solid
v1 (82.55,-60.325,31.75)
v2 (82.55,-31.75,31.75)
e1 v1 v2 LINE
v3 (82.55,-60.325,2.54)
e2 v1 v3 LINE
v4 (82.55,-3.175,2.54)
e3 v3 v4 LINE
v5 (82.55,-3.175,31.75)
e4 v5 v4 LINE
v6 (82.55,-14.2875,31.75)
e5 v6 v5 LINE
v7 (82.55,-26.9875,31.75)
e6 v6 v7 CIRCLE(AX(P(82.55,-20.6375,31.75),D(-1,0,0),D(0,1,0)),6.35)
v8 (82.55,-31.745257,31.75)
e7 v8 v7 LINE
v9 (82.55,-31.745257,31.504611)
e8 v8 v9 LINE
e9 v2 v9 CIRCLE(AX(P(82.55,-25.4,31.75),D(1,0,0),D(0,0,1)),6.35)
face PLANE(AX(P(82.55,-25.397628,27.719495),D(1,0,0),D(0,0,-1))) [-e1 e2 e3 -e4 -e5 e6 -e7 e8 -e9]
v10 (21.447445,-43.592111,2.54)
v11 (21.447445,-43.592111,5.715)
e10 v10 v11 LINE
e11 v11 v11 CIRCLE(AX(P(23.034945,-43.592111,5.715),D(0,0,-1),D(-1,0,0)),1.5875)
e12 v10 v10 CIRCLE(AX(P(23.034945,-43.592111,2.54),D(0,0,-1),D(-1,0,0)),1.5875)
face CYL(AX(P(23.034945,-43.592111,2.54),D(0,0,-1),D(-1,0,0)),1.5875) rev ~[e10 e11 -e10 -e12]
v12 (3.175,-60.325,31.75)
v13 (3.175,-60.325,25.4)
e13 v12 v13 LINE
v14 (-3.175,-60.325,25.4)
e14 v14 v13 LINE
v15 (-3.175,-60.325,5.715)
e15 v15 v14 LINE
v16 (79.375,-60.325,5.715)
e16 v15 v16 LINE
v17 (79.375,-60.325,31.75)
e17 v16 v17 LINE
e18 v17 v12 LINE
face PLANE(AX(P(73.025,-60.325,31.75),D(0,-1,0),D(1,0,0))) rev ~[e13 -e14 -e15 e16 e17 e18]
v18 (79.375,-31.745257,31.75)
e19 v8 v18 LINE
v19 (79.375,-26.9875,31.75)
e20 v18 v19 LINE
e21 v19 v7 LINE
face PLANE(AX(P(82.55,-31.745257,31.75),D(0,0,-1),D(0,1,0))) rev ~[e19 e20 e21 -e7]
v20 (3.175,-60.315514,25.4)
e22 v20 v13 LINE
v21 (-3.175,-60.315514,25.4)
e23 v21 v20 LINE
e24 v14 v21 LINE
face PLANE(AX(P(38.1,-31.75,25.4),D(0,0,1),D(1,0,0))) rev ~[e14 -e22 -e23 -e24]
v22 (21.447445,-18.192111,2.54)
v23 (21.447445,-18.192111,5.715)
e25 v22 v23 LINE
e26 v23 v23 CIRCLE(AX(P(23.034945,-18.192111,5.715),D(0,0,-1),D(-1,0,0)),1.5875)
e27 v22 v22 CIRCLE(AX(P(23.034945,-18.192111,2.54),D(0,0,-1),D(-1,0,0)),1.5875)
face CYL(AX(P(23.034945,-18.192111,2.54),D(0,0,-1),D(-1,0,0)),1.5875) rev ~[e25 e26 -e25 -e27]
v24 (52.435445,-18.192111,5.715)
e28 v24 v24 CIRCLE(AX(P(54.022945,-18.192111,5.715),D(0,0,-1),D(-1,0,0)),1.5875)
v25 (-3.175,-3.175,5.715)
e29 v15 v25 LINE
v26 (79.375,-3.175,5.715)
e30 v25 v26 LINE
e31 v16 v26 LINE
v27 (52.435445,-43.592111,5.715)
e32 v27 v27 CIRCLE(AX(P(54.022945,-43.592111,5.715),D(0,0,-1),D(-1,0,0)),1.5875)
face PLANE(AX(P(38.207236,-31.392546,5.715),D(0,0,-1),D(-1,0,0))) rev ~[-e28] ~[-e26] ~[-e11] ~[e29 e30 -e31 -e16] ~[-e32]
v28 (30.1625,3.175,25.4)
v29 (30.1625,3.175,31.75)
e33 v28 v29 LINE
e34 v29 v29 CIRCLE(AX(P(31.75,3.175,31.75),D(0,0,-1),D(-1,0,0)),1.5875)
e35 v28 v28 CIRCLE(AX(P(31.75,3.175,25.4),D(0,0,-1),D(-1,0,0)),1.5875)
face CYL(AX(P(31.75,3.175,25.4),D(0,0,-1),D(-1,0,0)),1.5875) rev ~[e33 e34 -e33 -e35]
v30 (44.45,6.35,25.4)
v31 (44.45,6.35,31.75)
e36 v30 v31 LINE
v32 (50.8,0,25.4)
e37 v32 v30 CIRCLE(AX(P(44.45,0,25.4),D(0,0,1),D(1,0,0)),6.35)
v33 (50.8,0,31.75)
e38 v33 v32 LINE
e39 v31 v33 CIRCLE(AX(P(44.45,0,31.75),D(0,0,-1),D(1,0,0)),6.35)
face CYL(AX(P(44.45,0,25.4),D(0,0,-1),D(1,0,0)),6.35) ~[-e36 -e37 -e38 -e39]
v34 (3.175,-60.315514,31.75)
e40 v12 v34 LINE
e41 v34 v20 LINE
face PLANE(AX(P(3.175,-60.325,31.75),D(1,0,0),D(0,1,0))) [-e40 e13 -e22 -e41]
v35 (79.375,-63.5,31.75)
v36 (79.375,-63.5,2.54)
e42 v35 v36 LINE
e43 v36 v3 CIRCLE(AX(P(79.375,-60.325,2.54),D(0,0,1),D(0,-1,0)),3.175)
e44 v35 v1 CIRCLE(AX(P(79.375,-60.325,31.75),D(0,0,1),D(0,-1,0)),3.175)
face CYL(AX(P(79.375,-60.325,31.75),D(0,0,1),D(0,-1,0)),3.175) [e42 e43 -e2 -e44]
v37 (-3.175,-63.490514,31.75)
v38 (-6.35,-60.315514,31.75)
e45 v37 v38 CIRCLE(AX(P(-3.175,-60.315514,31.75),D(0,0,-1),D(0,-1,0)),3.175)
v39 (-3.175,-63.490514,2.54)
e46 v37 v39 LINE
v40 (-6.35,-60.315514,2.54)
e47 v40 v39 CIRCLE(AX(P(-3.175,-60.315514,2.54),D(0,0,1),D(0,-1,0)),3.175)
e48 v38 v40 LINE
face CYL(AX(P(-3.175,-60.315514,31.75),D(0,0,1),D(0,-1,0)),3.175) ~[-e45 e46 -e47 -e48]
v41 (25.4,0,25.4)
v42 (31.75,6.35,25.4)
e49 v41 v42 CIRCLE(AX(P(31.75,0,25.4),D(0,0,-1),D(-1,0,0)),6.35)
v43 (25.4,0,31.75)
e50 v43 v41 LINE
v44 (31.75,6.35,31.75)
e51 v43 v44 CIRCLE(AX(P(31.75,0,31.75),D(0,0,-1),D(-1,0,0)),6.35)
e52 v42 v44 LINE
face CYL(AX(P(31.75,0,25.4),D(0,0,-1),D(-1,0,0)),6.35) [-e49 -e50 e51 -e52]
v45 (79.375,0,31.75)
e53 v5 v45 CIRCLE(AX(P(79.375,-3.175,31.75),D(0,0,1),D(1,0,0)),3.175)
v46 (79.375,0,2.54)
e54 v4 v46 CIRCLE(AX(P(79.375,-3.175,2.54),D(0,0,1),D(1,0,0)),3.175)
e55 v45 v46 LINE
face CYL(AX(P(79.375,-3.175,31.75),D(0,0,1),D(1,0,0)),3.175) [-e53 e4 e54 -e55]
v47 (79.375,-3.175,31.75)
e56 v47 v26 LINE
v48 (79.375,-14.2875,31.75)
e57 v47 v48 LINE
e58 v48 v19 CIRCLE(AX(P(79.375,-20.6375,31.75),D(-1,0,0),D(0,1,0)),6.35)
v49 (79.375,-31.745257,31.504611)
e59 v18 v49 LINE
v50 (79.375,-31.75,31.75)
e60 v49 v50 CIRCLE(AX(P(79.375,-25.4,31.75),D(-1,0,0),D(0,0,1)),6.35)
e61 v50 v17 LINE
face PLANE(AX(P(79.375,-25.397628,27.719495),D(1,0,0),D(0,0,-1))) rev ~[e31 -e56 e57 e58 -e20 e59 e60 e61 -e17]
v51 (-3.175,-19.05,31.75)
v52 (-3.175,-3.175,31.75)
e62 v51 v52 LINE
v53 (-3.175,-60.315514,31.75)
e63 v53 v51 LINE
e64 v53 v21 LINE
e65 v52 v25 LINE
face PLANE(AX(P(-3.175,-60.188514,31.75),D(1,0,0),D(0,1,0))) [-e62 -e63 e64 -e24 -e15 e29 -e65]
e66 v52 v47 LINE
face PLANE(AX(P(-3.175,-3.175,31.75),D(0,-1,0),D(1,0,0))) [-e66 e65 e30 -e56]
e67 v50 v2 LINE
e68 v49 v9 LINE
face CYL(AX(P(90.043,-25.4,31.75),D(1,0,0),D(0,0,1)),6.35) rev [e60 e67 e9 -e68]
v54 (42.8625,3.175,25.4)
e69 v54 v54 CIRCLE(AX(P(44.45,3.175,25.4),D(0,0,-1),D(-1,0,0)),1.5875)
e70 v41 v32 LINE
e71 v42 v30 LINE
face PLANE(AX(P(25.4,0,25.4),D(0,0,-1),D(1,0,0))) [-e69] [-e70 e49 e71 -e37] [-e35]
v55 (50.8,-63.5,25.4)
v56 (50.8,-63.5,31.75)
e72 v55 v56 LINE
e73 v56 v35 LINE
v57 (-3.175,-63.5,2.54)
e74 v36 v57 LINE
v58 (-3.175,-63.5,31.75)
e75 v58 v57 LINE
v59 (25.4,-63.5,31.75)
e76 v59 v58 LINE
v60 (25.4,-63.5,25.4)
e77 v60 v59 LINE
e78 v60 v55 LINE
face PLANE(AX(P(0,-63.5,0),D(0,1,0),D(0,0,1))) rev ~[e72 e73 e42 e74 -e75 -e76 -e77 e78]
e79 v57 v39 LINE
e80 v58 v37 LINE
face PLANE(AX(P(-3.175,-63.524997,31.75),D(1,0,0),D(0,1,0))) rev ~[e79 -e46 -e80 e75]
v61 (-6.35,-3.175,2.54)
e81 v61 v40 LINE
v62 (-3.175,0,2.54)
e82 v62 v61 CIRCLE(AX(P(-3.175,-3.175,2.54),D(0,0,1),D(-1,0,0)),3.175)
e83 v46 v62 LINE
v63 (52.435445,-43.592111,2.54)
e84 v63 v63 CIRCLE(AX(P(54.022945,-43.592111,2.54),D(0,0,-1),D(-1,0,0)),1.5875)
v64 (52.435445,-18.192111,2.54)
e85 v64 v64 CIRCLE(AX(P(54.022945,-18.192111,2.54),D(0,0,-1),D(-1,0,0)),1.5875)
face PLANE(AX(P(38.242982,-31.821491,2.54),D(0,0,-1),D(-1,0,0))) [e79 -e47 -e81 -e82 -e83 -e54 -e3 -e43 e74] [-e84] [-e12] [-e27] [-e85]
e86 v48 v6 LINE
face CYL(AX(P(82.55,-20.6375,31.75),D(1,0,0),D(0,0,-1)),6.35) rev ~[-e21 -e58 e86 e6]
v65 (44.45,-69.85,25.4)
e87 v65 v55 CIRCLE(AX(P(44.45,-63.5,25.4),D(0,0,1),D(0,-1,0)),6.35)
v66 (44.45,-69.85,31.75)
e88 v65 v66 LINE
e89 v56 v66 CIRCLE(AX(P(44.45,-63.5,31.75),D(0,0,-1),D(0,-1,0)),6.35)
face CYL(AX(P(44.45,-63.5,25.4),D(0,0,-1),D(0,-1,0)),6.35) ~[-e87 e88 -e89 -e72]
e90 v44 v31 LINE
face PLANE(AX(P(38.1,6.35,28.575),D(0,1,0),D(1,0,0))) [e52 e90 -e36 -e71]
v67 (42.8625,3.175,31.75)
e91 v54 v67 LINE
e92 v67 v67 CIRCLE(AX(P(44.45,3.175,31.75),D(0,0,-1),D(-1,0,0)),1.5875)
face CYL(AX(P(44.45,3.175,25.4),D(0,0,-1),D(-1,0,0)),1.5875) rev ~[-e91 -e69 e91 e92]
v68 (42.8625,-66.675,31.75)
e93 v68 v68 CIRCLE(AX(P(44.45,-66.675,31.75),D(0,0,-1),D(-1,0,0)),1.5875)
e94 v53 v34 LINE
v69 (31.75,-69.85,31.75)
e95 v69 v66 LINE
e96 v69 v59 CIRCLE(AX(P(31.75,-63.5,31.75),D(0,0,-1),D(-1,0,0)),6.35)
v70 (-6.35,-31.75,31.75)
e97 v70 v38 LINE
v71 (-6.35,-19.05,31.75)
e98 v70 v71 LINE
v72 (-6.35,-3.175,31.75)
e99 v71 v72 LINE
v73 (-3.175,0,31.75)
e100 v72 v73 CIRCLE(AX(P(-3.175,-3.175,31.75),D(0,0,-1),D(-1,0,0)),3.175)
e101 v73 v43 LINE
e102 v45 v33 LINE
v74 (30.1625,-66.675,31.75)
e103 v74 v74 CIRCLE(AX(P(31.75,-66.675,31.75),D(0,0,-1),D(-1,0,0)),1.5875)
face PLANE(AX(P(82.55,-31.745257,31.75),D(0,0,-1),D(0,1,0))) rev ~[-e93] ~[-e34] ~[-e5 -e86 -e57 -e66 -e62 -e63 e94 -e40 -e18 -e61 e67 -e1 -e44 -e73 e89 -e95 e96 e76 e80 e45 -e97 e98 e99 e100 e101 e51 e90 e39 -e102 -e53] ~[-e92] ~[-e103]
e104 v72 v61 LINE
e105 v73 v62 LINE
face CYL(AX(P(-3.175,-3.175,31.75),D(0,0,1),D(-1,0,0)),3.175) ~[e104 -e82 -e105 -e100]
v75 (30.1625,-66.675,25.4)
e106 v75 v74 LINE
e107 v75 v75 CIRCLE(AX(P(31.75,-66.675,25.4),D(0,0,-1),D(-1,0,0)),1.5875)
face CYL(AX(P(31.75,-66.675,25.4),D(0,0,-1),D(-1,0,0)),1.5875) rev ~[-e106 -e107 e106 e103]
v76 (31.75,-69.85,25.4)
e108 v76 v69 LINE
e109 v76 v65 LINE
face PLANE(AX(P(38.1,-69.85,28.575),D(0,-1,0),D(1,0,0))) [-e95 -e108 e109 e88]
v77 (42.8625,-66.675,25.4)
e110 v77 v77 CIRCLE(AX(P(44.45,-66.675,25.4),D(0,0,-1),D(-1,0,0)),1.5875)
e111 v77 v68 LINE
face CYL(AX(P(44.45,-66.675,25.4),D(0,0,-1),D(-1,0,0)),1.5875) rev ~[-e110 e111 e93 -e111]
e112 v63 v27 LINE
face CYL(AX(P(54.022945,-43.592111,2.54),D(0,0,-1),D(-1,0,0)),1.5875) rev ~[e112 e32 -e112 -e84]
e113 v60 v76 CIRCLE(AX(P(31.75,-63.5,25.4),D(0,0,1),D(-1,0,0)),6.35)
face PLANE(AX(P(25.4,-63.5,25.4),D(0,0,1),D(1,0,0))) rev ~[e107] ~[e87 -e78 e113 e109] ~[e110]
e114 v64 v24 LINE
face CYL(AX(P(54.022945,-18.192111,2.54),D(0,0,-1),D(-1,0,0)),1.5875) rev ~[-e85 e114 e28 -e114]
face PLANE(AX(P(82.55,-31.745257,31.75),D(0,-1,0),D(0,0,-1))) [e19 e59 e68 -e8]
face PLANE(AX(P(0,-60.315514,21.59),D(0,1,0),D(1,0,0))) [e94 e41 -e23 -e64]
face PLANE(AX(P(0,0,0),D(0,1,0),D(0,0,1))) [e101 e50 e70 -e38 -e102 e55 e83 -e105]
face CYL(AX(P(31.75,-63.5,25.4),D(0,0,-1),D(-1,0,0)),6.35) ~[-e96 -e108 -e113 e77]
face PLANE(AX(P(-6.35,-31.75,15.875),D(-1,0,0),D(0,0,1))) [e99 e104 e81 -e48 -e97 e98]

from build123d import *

# Parameters (mm, degrees)
SKETCH1_W            = 76.2
SKETCH1_H            = 63.5
BOSS_EXTRUDE1_DEPTH  = 31.75
SKETCH2_W            = 69.85
SKETCH2_H            = 57.15
CUT_EXTRUDE1_DEPTH   = 28.575
SKETCH3_W            = 19.05
SKETCH3_H            = 25.4
CUT_EXTRUDE2_DEPTH   = 28.575
SKETCH4_R            = 1.5875
SKETCH4_W            = 19.05
SKETCH4_H            = 6.35
CUT_EXTRUDE3_DEPTH   = 28.575
SKETCH5_W            = 19.05
SKETCH5_H            = 6.35
CUT_EXTRUDE4_DEPTH   = 28.575
SKETCH7_W            = 25.4
SKETCH7_H            = 6.35
BOSS_EXTRUDE2_DEPTH  = 6.35
SKETCH9_R            = 1.5875
CUT_EXTRUDE5_DEPTH   = 6.35
SKETCH10_W           = 25.4
SKETCH10_H           = 6.35
BOSS_EXTRUDE3_DEPTH  = 6.35
SKETCH11_R           = 1.5875
CUT_EXTRUDE6_DEPTH   = 6.35
SKETCH12_R           = 6.35
CUT_EXTRUDE8_DEPTH   = 6.35
SKETCH13_W           = 7.178118798
SKETCH13_H           = 13.595140403
BOSS_EXTRUDE4_DEPTH  = 3.175
SKETCH14_R           = 6.35
CUT_EXTRUDE9_DEPTH   = 3.175
SKETCH15_R           = 1.5875
BOSS_EXTRUDE8_DEPTH  = 3.175
SKETCH16_R           = 1.5875
CUT_EXTRUDE11_DEPTH  = 8.509
CUT_EXTRUDE12_DEPTH  = 8.509
SKETCH26_R           = 2.921
CUT_EXTRUDE24_DEPTH  = 72.898
SKETCH32_W           = 69.85
SKETCH32_H           = 57.15
SKETCH32_R           = 2.921
BOSS_EXTRUDE10_DEPTH = 5.715
SKETCH36_W           = 34.13125
SKETCH36_H           = 28.575
CUT_EXTRUDE27_DEPTH  = 38.227
CUT_EXTRUDE29_DEPTH  = 38.227
SKETCH39_W           = 17.907
SKETCH39_H           = 57.15
SKETCH39_R           = 1.905
SKETCH39_W_2         = 17.81175
BOSS_EXTRUDE11_DEPTH = 2.54
CUT_EXTRUDE34_DEPTH  = 11.176
SKETCH47_W           = 34.544
SKETCH47_H           = 45.212
CUT_EXTRUDE36_DEPTH  = 11.43
SKETCH51_W           = 31.75
SKETCH51_H           = 63.5
BOSS_EXTRUDE16_DEPTH = 6.35
SKETCH52_W           = 31.75
SKETCH52_H           = 63.5
BOSS_EXTRUDE17_DEPTH = 6.35
CUT_EXTRUDE37_START  = -6.35
SKETCH53_R           = 6.35
CUT_EXTRUDE37_DEPTH  = 6.35
SKETCH54_W           = 6.35
SKETCH54_H           = 57.013513642
SKETCH54_H_2         = 57.15
CUT_EXTRUDE38_DEPTH  = 21.59
SKETCH57_W           = 6.35
SKETCH57_H           = 57.15
BOSS_EXTRUDE20_DEPTH = 1.27
SKETCH59_W           = 16.847295719
SKETCH59_H           = 36.06156687
SKETCH59_W_2         = 16.70806187
SKETCH59_H_2         = 36.618502265
BOSS_EXTRUDE21_DEPTH = 11.43
SKETCH61_R           = 2.921
CUT_EXTRUDE39_DEPTH  = 8.89
SKETCH62_R           = 1.905
CUT_EXTRUDE40_DEPTH  = 2.54
SKETCH64_W           = 6.35
SKETCH64_H           = 20.32
CUT_EXTRUDE42_DEPTH  = 0.127
SKETCH63_W           = 1.27
SKETCH63_H           = 57.013513642
SKETCH63_W_2         = 3.81
BOSS_EXTRUDE22_DEPTH = 83.439
SKETCH65_R           = 1.5875
CUT_EXTRUDE43_DEPTH  = 83.439
SKETCH66_W           = 25.4
SKETCH66_H           = 38.1
CUT_EXTRUDE44_DEPTH  = 83.439
BOSS_EXTRUDE23_DEPTH = 11.43
CUT_EXTRUDE45_DEPTH  = 11.43
CUT_EXTRUDE47_DEPTH  = 63.5
SKETCH72_R           = 6.35
CUT_EXTRUDE48_DEPTH  = 63.5
SKETCH73_W           = 7.89440902
SKETCH73_H           = 12.7
BOSS_EXTRUDE24_DEPTH = 3.175
CUT_EXTRUDE49_DEPTH  = 9.779
CUT_EXTRUDE50_DEPTH  = 9.779
CUT_EXTRUDE51_DEPTH  = 9.779
SKETCH81_W           = 3.243342167
SKETCH81_H           = 0.034482981
CUT_EXTRUDE52_DEPTH  = 36.703
SKETCH85_R           = 2.921
CUT_EXTRUDE53_DEPTH  = 11.43
SKETCH86_W           = 82.55
SKETCH86_H           = 57.15
SKETCH86_R           = 1.905
BOSS_EXTRUDE28_DEPTH = 2.54
CUT_EXTRUDE54_START  = -38.862
SKETCH87_R           = 1.5875
SKETCH87_W           = 25.330152682
SKETCH87_H           = 38.1
CUT_EXTRUDE54_DEPTH  = 38.862
SKETCH88_W           = 34.544
SKETCH88_H           = 38.1
SKETCH88_W_2         = 31.147363918
SKETCH88_H_2         = 3.556
CUT_EXTRUDE55_DEPTH  = 2.54
CUT_EXTRUDE56_DEPTH  = 2.54
CUT_EXTRUDE57_DEPTH  = 2.54
BOSS_EXTRUDE30_START = -7.62
SKETCH92_W           = 82.55
SKETCH92_H           = 57.15
SKETCH92_R           = 1.5875
SKETCH92_W_2         = 25.4
SKETCH92_H_2         = 38.1
BOSS_EXTRUDE30_DEPTH = 7.62
SKETCH93_W           = 82.55
SKETCH93_H           = 57.15
CUT_EXTRUDE58_DEPTH  = 2.54
SKETCH94_W           = 82.55
SKETCH94_H           = 57.15
CUT_EXTRUDE59_DEPTH  = 32.004
SKETCH95_W           = 86.575346052
SKETCH95_H           = 60.338226315
BOSS_EXTRUDE31_DEPTH = 5.715
SKETCH96_W           = 93.509952632
SKETCH96_H           = 68.488176315
CUT_EXTRUDE60_DEPTH  = 2.54
CUT_EXTRUDE61_START  = -10.668
SKETCH97_R           = 6.35
CUT_EXTRUDE61_DEPTH  = 10.668
SKETCH98_W           = 10.458534211
SKETCH98_H           = 15.345159211
BOSS_EXTRUDE32_DEPTH = 3.175
SKETCH99_R           = 1.5875
CUT_EXTRUDE62_DEPTH  = 25.527
SKETCH100_W          = 8.061009101
SKETCH100_H          = 12.695256821
BOSS_EXTRUDE33_DEPTH = 3.175
SKETCH103_R          = 6.35
CUT_EXTRUDE63_DEPTH  = 3.175


with BuildPart() as part:
    # Sketch1 → Boss-Extrude1 (new body)
    with BuildSketch(Plane.XY):
        with Locations((38.1, -31.75)):
            Rectangle(SKETCH1_W, SKETCH1_H)
    extrude(amount=BOSS_EXTRUDE1_DEPTH)

    # Sketch2 → Cut-Extrude1 (cut)
    with BuildSketch(Plane.XY.offset(31.75)):
        with Locations((38.1, -31.75)):
            Rectangle(SKETCH2_W, SKETCH2_H)
    extrude(amount=-CUT_EXTRUDE1_DEPTH, mode=Mode.SUBTRACT)

    # Sketch3 → Cut-Extrude2 (cut)
    with BuildSketch(Plane(origin=(0, 0, 0), x_dir=(-1, 0, 0), z_dir=(0, 0, -1))):
        with Locations((-38.1, -31.75)):
            Rectangle(SKETCH3_W, SKETCH3_H)
    extrude(amount=-CUT_EXTRUDE2_DEPTH, mode=Mode.SUBTRACT)

    # Sketch4 → Cut-Extrude3 (cut)
    with BuildSketch(Plane(origin=(0, 0, 0), x_dir=(-1, 0, 0), z_dir=(0, 0, -1))):
        with Locations((-52.03825, -19.05)):
            Circle(SKETCH4_R)
        with Locations((-24.257, -19.05)):
            Circle(SKETCH4_R)
        with Locations((-52.038249991, -44.45)):
            Circle(SKETCH4_R)
        with Locations((-24.257, -44.45)):
            Circle(SKETCH4_R)
        with Locations((-38.1, -15.875)):
            Rectangle(SKETCH4_W, SKETCH4_H)
    extrude(amount=-CUT_EXTRUDE3_DEPTH, mode=Mode.SUBTRACT)

    # Sketch5 → Cut-Extrude4 (cut)
    with BuildSketch(Plane(origin=(0, 0, 0), x_dir=(-1, 0, 0), z_dir=(0, 0, -1))):
        with Locations((-38.1, -47.625)):
            Rectangle(SKETCH5_W, SKETCH5_H)
    extrude(amount=-CUT_EXTRUDE4_DEPTH, mode=Mode.SUBTRACT)

    # Sketch7 → Boss-Extrude2 (add)
    with BuildSketch(Plane(origin=(0, 0, 0), x_dir=(1, 0, 0), z_dir=(0, 1, 0))):
        with Locations((38.1, -28.575)):
            Rectangle(SKETCH7_W, SKETCH7_H)
    extrude(amount=BOSS_EXTRUDE2_DEPTH)

    # Sketch9 → Cut-Extrude5 (cut)
    with BuildSketch(Plane(origin=(0, 0, 25.4), x_dir=(-1, 0, 0), z_dir=(0, 0, -1))):
        with Locations((-44.45, 3.175)):
            Circle(SKETCH9_R)
        with Locations((-31.75, 3.175)):
            Circle(SKETCH9_R)
    extrude(amount=-CUT_EXTRUDE5_DEPTH, mode=Mode.SUBTRACT)

    # Sketch10 → Boss-Extrude3 (add)
    with BuildSketch(Plane.XZ.offset(63.5)):
        with Locations((38.1, 28.575)):
            Rectangle(SKETCH10_W, SKETCH10_H)
    extrude(amount=BOSS_EXTRUDE3_DEPTH)

    # Sketch11 → Cut-Extrude6 (cut)
    with BuildSketch(Plane(origin=(0, 0, 25.4), x_dir=(-1, 0, 0), z_dir=(0, 0, -1))):
        with Locations((-44.45, -66.675)):
            Circle(SKETCH11_R)
        with Locations((-31.75, -66.675)):
            Circle(SKETCH11_R)
    extrude(amount=-CUT_EXTRUDE6_DEPTH, mode=Mode.SUBTRACT)

    # Sketch12 → Cut-Extrude8 (cut)
    with BuildSketch(Plane(origin=(76.2, 0, 0), x_dir=(0, 0, -1), z_dir=(1, 0, 0))):
        with Locations((-31.75, -28.575)):
            Circle(SKETCH12_R)
    extrude(amount=-CUT_EXTRUDE8_DEPTH, mode=Mode.SUBTRACT)

    # Sketch13 → Boss-Extrude4 (add)
    with BuildSketch(Plane(origin=(76.2, 0, 0), x_dir=(0, 0, -1), z_dir=(1, 0, 0))):
        with Locations((-28.160940601, -29.022570202)):
            Rectangle(SKETCH13_W, SKETCH13_H)
    extrude(amount=-BOSS_EXTRUDE4_DEPTH)

    # Sketch14 → Cut-Extrude9 (cut)
    with BuildSketch(Plane(origin=(76.2, 0, 0), x_dir=(0, 0, -1), z_dir=(1, 0, 0))):
        with Locations((-31.75, -25.4)):
            Circle(SKETCH14_R)
    extrude(amount=-CUT_EXTRUDE9_DEPTH, mode=Mode.SUBTRACT)

    # Sketch15 → Boss-Extrude8 (add)
    with BuildSketch(Plane(origin=(0, 0, 0), x_dir=(-1, 0, 0), z_dir=(0, 0, -1))):
        with Locations((-52.03825, -19.05)):
            Circle(SKETCH15_R)
        with Locations((-24.257, -19.05)):
            Circle(SKETCH15_R)
        with Locations((-24.257, -44.45)):
            Circle(SKETCH15_R)
        with Locations((-52.038249991, -44.45)):
            Circle(SKETCH15_R)
    extrude(amount=-BOSS_EXTRUDE8_DEPTH)

    # Sketch16 → Cut-Extrude11 (cut)
    with BuildSketch(Plane(origin=(0, 0, 0), x_dir=(-1, 0, 0), z_dir=(0, 0, -1))):
        with Locations((-53.62575, -19.05)):
            Circle(SKETCH16_R)
        with Locations((-53.625749991, -44.45)):
            Circle(SKETCH16_R)
        with Locations((-22.6695, -19.05)):
            Circle(SKETCH16_R)
        with Locations((-22.6695, -44.45)):
            Circle(SKETCH16_R)
    extrude(amount=-CUT_EXTRUDE11_DEPTH, mode=Mode.SUBTRACT)

    # Sketch18 → Cut-Extrude12 (cut)
    with BuildSketch(Plane(origin=(0, 0, 0), x_dir=(-1, 0, 0), z_dir=(0, 0, -1))):
        with BuildLine():
            Line((-50.109634686, -12.7), (-47.625, -12.7))
            Line((-47.625, -12.7), (-26.090365314, -12.7))
            ThreePointArc((-26.090365314, -12.7), (-26.818097964, -10.943097964), (-28.575, -10.215365314))
            Line((-28.575, -10.215365314), (-47.625, -10.215365314))
            ThreePointArc((-47.625, -10.215365314), (-49.381902036, -10.943097964), (-50.109634686, -12.7))
        make_face()
    extrude(amount=-CUT_EXTRUDE12_DEPTH, mode=Mode.SUBTRACT)

    # Sketch26 → Cut-Extrude24 (cut)
    with BuildSketch(Plane(origin=(0, 0, 0), x_dir=(-1, 0, 0), z_dir=(0, 0, -1))):
        with Locations((-68.58, -31.75)):
            Circle(SKETCH26_R)
        with Locations((-64.77, -25.4)):
            Circle(SKETCH26_R)
        with Locations((-60.96, -19.05)):
            Circle(SKETCH26_R)
        with Locations((-64.77, -38.1)):
            Circle(SKETCH26_R)
        with Locations((-60.96, -44.45)):
            Circle(SKETCH26_R)
        with Locations((-7.62, -31.75)):
            Circle(SKETCH26_R)
        with Locations((-11.43, -25.4)):
            Circle(SKETCH26_R)
        with Locations((-15.24, -19.05)):
            Circle(SKETCH26_R)
        with Locations((-11.43, -38.1)):
            Circle(SKETCH26_R)
        with Locations((-15.24, -44.45)):
            Circle(SKETCH26_R)
    extrude(amount=-CUT_EXTRUDE24_DEPTH, mode=Mode.SUBTRACT)

    # Sketch32 → Boss-Extrude10 (add)
    with BuildSketch(Plane.XY.offset(3.175)):
        with Locations((38.1, -31.75)):
            Rectangle(SKETCH32_W, SKETCH32_H)
        with Locations(Location((15.24, -19.05, 0), (0, 0, 180))):
            Circle(SKETCH32_R, mode=Mode.SUBTRACT)
        with Locations(Location((11.43, -25.4, 0), (0, 0, 180))):
            Circle(SKETCH32_R, mode=Mode.SUBTRACT)
        with Locations(Location((7.62, -31.75, 0), (0, 0, 180))):
            Circle(SKETCH32_R, mode=Mode.SUBTRACT)
        with Locations(Location((11.43, -38.1, 0), (0, 0, 180))):
            Circle(SKETCH32_R, mode=Mode.SUBTRACT)
        with Locations(Location((15.24, -44.45, 0), (0, 0, 180))):
            Circle(SKETCH32_R, mode=Mode.SUBTRACT)
        with Locations(Location((60.96, -44.45, 0), (0, 0, 180))):
            Circle(SKETCH32_R, mode=Mode.SUBTRACT)
        with Locations(Location((64.77, -38.1, 0), (0, 0, 180))):
            Circle(SKETCH32_R, mode=Mode.SUBTRACT)
        with Locations(Location((68.58, -31.75, 0), (0, 0, 180))):
            Circle(SKETCH32_R, mode=Mode.SUBTRACT)
        with Locations(Location((64.77, -25.4, 0), (0, 0, 180))):
            Circle(SKETCH32_R, mode=Mode.SUBTRACT)
        with Locations(Location((60.96, -19.05, 0), (0, 0, 180))):
            Circle(SKETCH32_R, mode=Mode.SUBTRACT)
    extrude(amount=BOSS_EXTRUDE10_DEPTH)

    # Sketch36 → Cut-Extrude27 (cut)
    with BuildSketch(Plane(origin=(0, 0, 0), x_dir=(-1, 0, 0), z_dir=(0, 0, -1))):
        with Locations((-38.147625, -31.75)):
            Rectangle(SKETCH36_W, SKETCH36_H)
    extrude(amount=-CUT_EXTRUDE27_DEPTH, mode=Mode.SUBTRACT)

    # Sketch38 → Cut-Extrude29 (cut)
    with BuildSketch(Plane(origin=(0, 0, 0), x_dir=(-1, 0, 0), z_dir=(0, 0, -1))):
        with BuildLine():
            Line((-55.21325, -46.0375), (-21.082, -46.0375))
            add(Edge.make_bspline(
                [(-55.21325, -46.0375), (-46.324674136, -54.645526768), (-29.935856485, -54.748655934), (-21.082, -46.0375)],
                knots=[0, 0, 0, 0, 1, 1, 1, 1], degree=3))
        make_face()
    extrude(amount=-CUT_EXTRUDE29_DEPTH, mode=Mode.SUBTRACT)

    # Sketch39 → Boss-Extrude11 (add)
    # profile 1 of 2: a face of its own
    with BuildSketch(Plane.XY.offset(8.89)):
        with Locations((12.1285, -31.75)):
            Rectangle(SKETCH39_W, SKETCH39_H)
        with Locations((15.24, -19.05)):
            Circle(SKETCH39_R, mode=Mode.SUBTRACT)
        with Locations((11.43, -25.4)):
            Circle(SKETCH39_R, mode=Mode.SUBTRACT)
        with Locations((7.62, -31.75)):
            Circle(SKETCH39_R, mode=Mode.SUBTRACT)
        with Locations((11.43, -38.1)):
            Circle(SKETCH39_R, mode=Mode.SUBTRACT)
        with Locations((15.24, -44.45)):
            Circle(SKETCH39_R, mode=Mode.SUBTRACT)
    # profile 2 of 2: a face of its own
    with BuildSketch(Plane.XY.offset(8.89)):
        with Locations((64.119125, -31.75)):
            Rectangle(SKETCH39_W_2, SKETCH39_H)
        with Locations((60.96, -44.45)):
            Circle(SKETCH39_R, mode=Mode.SUBTRACT)
        with Locations((64.77, -38.1)):
            Circle(SKETCH39_R, mode=Mode.SUBTRACT)
        with Locations((68.58, -31.75)):
            Circle(SKETCH39_R, mode=Mode.SUBTRACT)
        with Locations((64.77, -25.4)):
            Circle(SKETCH39_R, mode=Mode.SUBTRACT)
        with Locations((60.96, -19.05)):
            Circle(SKETCH39_R, mode=Mode.SUBTRACT)
    extrude(amount=BOSS_EXTRUDE11_DEPTH)

    # Sketch44 → Cut-Extrude34 (cut)
    with BuildSketch(Plane(origin=(0, 0, 0), x_dir=(-1, 0, 0), z_dir=(0, 0, -1))):
        with BuildLine():
            Line((-47.625, -9.87425), (-28.575, -9.9695))
            ThreePointArc((-28.575, -9.9695), (-23.276648889, -12.164148889), (-21.082, -17.4625))
            Line((-21.082, -17.4625), (-55.21325, -17.4625))
            ThreePointArc((-55.21325, -17.4625), (-52.990703032, -12.096796968), (-47.625, -9.87425))
        make_face()
    extrude(amount=-CUT_EXTRUDE34_DEPTH, mode=Mode.SUBTRACT)

    # Sketch47 → Cut-Extrude36 (cut)
    with BuildSketch(Plane(origin=(0, 0, 0), x_dir=(-1, 0, 0), z_dir=(0, 0, -1))):
        with Locations((-38.1, -31.75)):
            Rectangle(SKETCH47_W, SKETCH47_H)
    extrude(amount=-CUT_EXTRUDE36_DEPTH, mode=Mode.SUBTRACT)

    # Sketch51 → Boss-Extrude16 (add)
    with BuildSketch(Plane(origin=(76.2, 0, 0), x_dir=(0, 0, -1), z_dir=(1, 0, 0))):
        with Locations((-15.875, -31.75)):
            Rectangle(SKETCH51_W, SKETCH51_H)
    extrude(amount=BOSS_EXTRUDE16_DEPTH)

    # Sketch52 → Boss-Extrude17 (add)
    with BuildSketch(Plane.ZY):
        with Locations((15.875, -31.75)):
            Rectangle(SKETCH52_W, SKETCH52_H)
    extrude(amount=BOSS_EXTRUDE17_DEPTH)

    # Sketch53 → Cut-Extrude37 (cut)
    with BuildSketch(Plane.ZY.offset(-76.2).offset(CUT_EXTRUDE37_START)):
        with Locations((31.75, -25.4)):
            Circle(SKETCH53_R)
    extrude(amount=CUT_EXTRUDE37_DEPTH, mode=Mode.SUBTRACT)

    # Sketch54 → Cut-Extrude38 (cut)
    with BuildSketch(Plane.XY.offset(31.75)):
        with Locations((0, -31.681756821)):
            Rectangle(SKETCH54_W, SKETCH54_H)
        with Locations((76.2, -31.75)):
            Rectangle(SKETCH54_W, SKETCH54_H_2)
    extrude(amount=-CUT_EXTRUDE38_DEPTH, mode=Mode.SUBTRACT)

    # Sketch57 → Boss-Extrude20 (add)
    with BuildSketch(Plane.XY.offset(10.16)):
        with Locations((0, -31.75)):
            Rectangle(SKETCH57_W, SKETCH57_H)
        with Locations((76.2, -31.75)):
            Rectangle(SKETCH57_W, SKETCH57_H)
    extrude(amount=BOSS_EXTRUDE20_DEPTH)

    # Sketch59 → Boss-Extrude21 (add)
    with BuildSketch(Plane(origin=(0, 0, 0), x_dir=(-1, 0, 0), z_dir=(0, 0, -1))):
        with Locations((-64.972132842, -31.43672384)):
            Rectangle(SKETCH59_W, SKETCH59_H)
        with Locations((-10.810165612, -30.601320747)):
            Rectangle(SKETCH59_W_2, SKETCH59_H_2)
    extrude(amount=-BOSS_EXTRUDE21_DEPTH)

    # Sketch61 → Cut-Extrude39 (cut)
    with BuildSketch(Plane(origin=(0, 0, 0), x_dir=(-1, 0, 0), z_dir=(0, 0, -1))):
        with Locations((-74.93, -31.75)):
            Circle(SKETCH61_R)
        with Locations((-71.12, -25.4)):
            Circle(SKETCH61_R)
        with Locations((73.743865323, -27.677409919)):
            Circle(SKETCH61_R)
        with Locations((-67.31, -19.05)):
            Circle(SKETCH61_R)
        with Locations((-71.12, -38.1)):
            Circle(SKETCH61_R)
        with Locations((-67.31, -44.45)):
            Circle(SKETCH61_R)
        with Locations((-1.27, -31.75)):
            Circle(SKETCH61_R)
        with Locations((-5.08, -25.4)):
            Circle(SKETCH61_R)
        with Locations((-8.89, -19.05)):
            Circle(SKETCH61_R)
        with Locations((-5.08, -38.1)):
            Circle(SKETCH61_R)
        with Locations((-8.89, -44.45)):
            Circle(SKETCH61_R)
    extrude(amount=-CUT_EXTRUDE39_DEPTH, mode=Mode.SUBTRACT)

    # Sketch62 → Cut-Extrude40 (cut)
    with BuildSketch(Plane(origin=(0, 0, 8.89), x_dir=(-1, 0, 0), z_dir=(0, 0, -1))):
        with Locations((-67.31, -19.05)):
            Circle(SKETCH62_R)
        with Locations((-71.12, -25.4)):
            Circle(SKETCH62_R)
        with Locations((-74.93, -31.75)):
            Circle(SKETCH62_R)
        with Locations((-71.12, -38.1)):
            Circle(SKETCH62_R)
        with Locations((-67.31, -44.45)):
            Circle(SKETCH62_R)
        with Locations((-8.89, -44.45)):
            Circle(SKETCH62_R)
        with Locations((-5.08, -38.1)):
            Circle(SKETCH62_R)
        with Locations((-1.27, -31.75)):
            Circle(SKETCH62_R)
        with Locations((-5.08, -25.4)):
            Circle(SKETCH62_R)
        with Locations((-8.89, -19.05)):
            Circle(SKETCH62_R)
    extrude(amount=-CUT_EXTRUDE40_DEPTH, mode=Mode.SUBTRACT)

    # Sketch64 → Cut-Extrude42 (cut)
    with BuildSketch(Plane(origin=(0, -60.188513642, 0), x_dir=(1, 0, 0), z_dir=(0, 1, 0))):
        with Locations((0, -21.59)):
            Rectangle(SKETCH64_W, SKETCH64_H)
    extrude(amount=-CUT_EXTRUDE42_DEPTH, mode=Mode.SUBTRACT)

    # Sketch63 → Boss-Extrude22 (add)
    with BuildSketch(Plane(origin=(-3.175, 0, 0), x_dir=(0, 0, -1), z_dir=(1, 0, 0))):
        with Locations((-20.955, -31.681756821)):
            Rectangle(SKETCH63_W, SKETCH63_H)
        with Locations((-23.495, -31.681756821)):
            Rectangle(SKETCH63_W_2, SKETCH63_H)
    extrude(amount=BOSS_EXTRUDE22_DEPTH)

    # Sketch65 → Cut-Extrude43 (cut)
    with BuildSketch(Plane(origin=(0, 0, 0), x_dir=(-1, 0, 0), z_dir=(0, 0, -1))):
        with Locations(Location((-53.594, -19.05, 0), (0, 0, 90))):
            Circle(SKETCH65_R)
        with Locations(Location((-22.606, -19.05, 0), (0, 0, 90))):
            Circle(SKETCH65_R)
        with Locations(Location((-22.606, -44.45, 0), (0, 0, 90))):
            Circle(SKETCH65_R)
        with Locations(Location((-53.594, -44.45, 0), (0, 0, 90))):
            Circle(SKETCH65_R)
    extrude(amount=-CUT_EXTRUDE43_DEPTH, mode=Mode.SUBTRACT)

    # Sketch66 → Cut-Extrude44 (cut)
    with BuildSketch(Plane(origin=(0, 0, 20.32), x_dir=(-1, 0, 0), z_dir=(0, 0, -1))):
        with Locations((-38.1, -31.75)):
            Rectangle(SKETCH66_W, SKETCH66_H)
    extrude(amount=-CUT_EXTRUDE44_DEPTH, mode=Mode.SUBTRACT)

    # Sketch67 → Boss-Extrude23 (add)
    with BuildSketch(Plane(origin=(0, 0, 0), x_dir=(-1, 0, 0), z_dir=(0, 0, -1))):
        with BuildLine():
            Line((-53.673681959, -9.144), (-55.372, -9.144))
            Line((-55.372, -9.144), (-55.372, -12.7))
            ThreePointArc((-55.372, -12.7), (-54.925630735, -10.729630735), (-53.673681959, -9.144))
        make_face()
        with BuildLine():
            Line((-55.372, -50.8), (-55.372, -54.356))
            Line((-55.372, -54.356), (-53.673681959, -54.356))
            ThreePointArc((-53.673681959, -54.356), (-54.925630735, -52.770369265), (-55.372, -50.8))
        make_face()
        with BuildLine():
            Line((-22.526318041, -54.356), (-20.828, -54.356))
            Line((-20.828, -54.356), (-20.828, -50.8))
            ThreePointArc((-20.828, -50.8), (-21.274369265, -52.770369265), (-22.526318041, -54.356))
        make_face()
        with BuildLine():
            Line((-20.828, -12.7), (-20.828, -9.144))
            Line((-20.828, -9.144), (-22.526318041, -9.144))
            ThreePointArc((-22.526318041, -9.144), (-21.274369265, -10.729630735), (-20.828, -12.7))
        make_face()
    extrude(amount=-BOSS_EXTRUDE23_DEPTH)

    # Sketch68 → Cut-Extrude45 (cut)
    with BuildSketch(Plane(origin=(0, 0, 20.32), x_dir=(-1, 0, 0), z_dir=(0, 0, -1))):
        Polygon((-67.31, -17.145), (-65.405, -19.05), (-73.025, -31.75), (-65.405, -44.45), (-67.31, -46.355), (-76.835, -31.75), align=None)
        Polygon((-10.795, -19.05), (-8.89, -17.145), (0.635, -31.75), (-8.89, -46.355), (-10.795, -44.45), (-3.175, -31.75), align=None)
    extrude(amount=-CUT_EXTRUDE45_DEPTH, mode=Mode.SUBTRACT)

    # Sketch71 → Cut-Extrude47 (cut)
    with BuildSketch(Plane.XY.offset(31.75)):
        with BuildLine():
            Line((-3.175, 0), (-6.35, 0))
            Line((-6.35, 0), (-6.35, -3.175))
            ThreePointArc((-6.35, -3.175), (-5.42006403, -0.92993597), (-3.175, 0))
        make_face()
        with BuildLine():
            Line((-6.35, -60.315513642), (-6.35, -63.5))
            Line((-6.35, -63.5), (-3.175, -63.490513642))
            ThreePointArc((-3.175, -63.490513642), (-5.42006403, -62.560577672), (-6.35, -60.315513642))
        make_face()
        with BuildLine():
            Line((82.55, -60.325), (82.55, -63.5))
            Line((82.55, -63.5), (79.375, -63.5))
            ThreePointArc((79.375, -63.5), (81.62006403, -62.57006403), (82.55, -60.325))
        make_face()
        with BuildLine():
            Line((79.375, 0), (82.55, 0))
            Line((82.55, 0), (82.55, -3.175))
            ThreePointArc((82.55, -3.175), (81.62006403, -0.92993597), (79.375, 0))
        make_face()
    extrude(amount=-CUT_EXTRUDE47_DEPTH, mode=Mode.SUBTRACT)

    # Sketch72 → Cut-Extrude48 (cut)
    with BuildSketch(Plane(origin=(-3.175, 0, 0), x_dir=(0, 0, -1), z_dir=(1, 0, 0))):
        with Locations((-31.75, -25.4)):
            Circle(SKETCH72_R)
    extrude(amount=-CUT_EXTRUDE48_DEPTH, mode=Mode.SUBTRACT)

    # Sketch73 → Boss-Extrude24 (add)
    with BuildSketch(Plane(origin=(82.55, 0, 0), x_dir=(0, 0, -1), z_dir=(1, 0, 0))):
        with Locations((-27.80279549, -25.4)):
            Rectangle(SKETCH73_W, SKETCH73_H)
    extrude(amount=-BOSS_EXTRUDE24_DEPTH)

    # Sketch74 → Cut-Extrude49 (cut)
    with BuildSketch(Plane(origin=(0, 0, 25.4), x_dir=(-1, 0, 0), z_dir=(0, 0, -1))):
        with BuildLine():
            Line((-44.45, 6.35), (-50.8, 6.35))
            Line((-50.8, 6.35), (-50.8, 0))
            ThreePointArc((-50.8, 0), (-48.940128061, 4.490128061), (-44.45, 6.35))
        make_face()
        with BuildLine():
            Line((-31.75, 6.35), (-25.4, 6.35))
            Line((-25.4, 6.35), (-25.4, 0))
            ThreePointArc((-25.4, 0), (-27.259871939, 4.490128061), (-31.75, 6.35))
        make_face()
    extrude(amount=-CUT_EXTRUDE49_DEPTH, mode=Mode.SUBTRACT)

    # Sketch75 → Cut-Extrude50 (cut)
    with BuildSketch(Plane(origin=(0, 0, 25.4), x_dir=(-1, 0, 0), z_dir=(0, 0, -1))):
        with BuildLine():
            Line((-50.8, -63.5), (-50.8, -69.85))
            Line((-50.8, -69.85), (-44.45, -69.85))
            ThreePointArc((-44.45, -69.85), (-48.940128061, -67.990128061), (-50.8, -63.5))
        make_face()
        with BuildLine():
            Line((-31.75, -69.85), (-25.4, -69.85))
            Line((-25.4, -69.85), (-25.4, -63.5))
            ThreePointArc((-25.4, -63.5), (-27.259871939, -67.990128061), (-31.75, -69.85))
        make_face()
    extrude(amount=-CUT_EXTRUDE50_DEPTH, mode=Mode.SUBTRACT)

    # Sketch76 → Cut-Extrude51 (cut)
    with BuildSketch(Plane(origin=(0, 0, 20.32), x_dir=(-1, 0, 0), z_dir=(0, 0, -1))):
        Polygon((-67.31, -16.129), (-64.389, -19.05), (-72.009, -31.75), (-64.389, -44.45), (-67.31, -47.371), (-77.851, -31.75), align=None)
        Polygon((-11.811, -19.05), (-8.89, -16.129), (1.651, -31.75), (-7.515411765, -47.027352941), (-11.811, -44.45), (-4.191, -31.75), align=None)
    extrude(amount=-CUT_EXTRUDE51_DEPTH, mode=Mode.SUBTRACT)

    # Sketch81 → Cut-Extrude52 (cut)
    with BuildSketch(Plane.XY.offset(31.75)):
        with Locations((-4.796671084, -63.507755133)):
            Rectangle(SKETCH81_W, SKETCH81_H)
    extrude(amount=-CUT_EXTRUDE52_DEPTH, mode=Mode.SUBTRACT)

    # Sketch85 → Cut-Extrude53 (cut)
    with BuildSketch(Plane(origin=(0, 0, 0), x_dir=(-1, 0, 0), z_dir=(0, 0, -1))):
        with Locations((-67.31, -19.05)):
            Circle(SKETCH85_R)
        with Locations((-71.12, -25.4)):
            Circle(SKETCH85_R)
        with Locations((-74.93, -31.75)):
            Circle(SKETCH85_R)
        with Locations((-71.12, -38.1)):
            Circle(SKETCH85_R)
        with Locations((-67.31, -44.45)):
            Circle(SKETCH85_R)
        with Locations((-8.89, -44.45)):
            Circle(SKETCH85_R)
        with Locations((-5.08, -38.1)):
            Circle(SKETCH85_R)
        with Locations((-1.27, -31.75)):
            Circle(SKETCH85_R)
        with Locations((-5.08, -25.4)):
            Circle(SKETCH85_R)
        with Locations((-8.89, -19.05)):
            Circle(SKETCH85_R)
    extrude(amount=-CUT_EXTRUDE53_DEPTH, mode=Mode.SUBTRACT)

    # Sketch86 → Boss-Extrude28 (add)
    with BuildSketch(Plane.XY.offset(11.43)):
        with Locations((38.1, -31.75)):
            Rectangle(SKETCH86_W, SKETCH86_H)
        with Locations((5.08, -25.4)):
            Circle(SKETCH86_R, mode=Mode.SUBTRACT)
        with Locations((8.89, -19.05)):
            Circle(SKETCH86_R, mode=Mode.SUBTRACT)
        with Locations((1.27, -31.75)):
            Circle(SKETCH86_R, mode=Mode.SUBTRACT)
        with Locations((5.08, -38.1)):
            Circle(SKETCH86_R, mode=Mode.SUBTRACT)
        with Locations((8.89, -44.45)):
            Circle(SKETCH86_R, mode=Mode.SUBTRACT)
        with Locations((67.31, -19.05)):
            Circle(SKETCH86_R, mode=Mode.SUBTRACT)
        with Locations((71.12, -25.4)):
            Circle(SKETCH86_R, mode=Mode.SUBTRACT)
        with Locations((74.93, -31.75)):
            Circle(SKETCH86_R, mode=Mode.SUBTRACT)
        with Locations((71.12, -38.1)):
            Circle(SKETCH86_R, mode=Mode.SUBTRACT)
        with Locations((67.31, -44.45)):
            Circle(SKETCH86_R, mode=Mode.SUBTRACT)
    extrude(amount=BOSS_EXTRUDE28_DEPTH)

    # Sketch87 → Cut-Extrude54 (cut)
    with BuildSketch(Plane.XY.offset(25.4).offset(CUT_EXTRUDE54_START)):
        with Locations(Location((22.606, -19.05, 0), (0, 0, 90))):
            Circle(SKETCH87_R)
        with Locations(Location((53.594, -19.05, 0), (0, 0, 90))):
            Circle(SKETCH87_R)
        with Locations(Location((53.594, -44.45, 0), (0, 0, 90))):
            Circle(SKETCH87_R)
        with Locations(Location((22.606, -44.45, 0), (0, 0, 90))):
            Circle(SKETCH87_R)
        with Locations((38.134923659, -31.75)):
            Rectangle(SKETCH87_W, SKETCH87_H)
    extrude(amount=CUT_EXTRUDE54_DEPTH, mode=Mode.SUBTRACT)

    # Sketch88 → Cut-Extrude55 (cut)
    with BuildSketch(Plane(origin=(0, 0, 11.43), x_dir=(-1, 0, 0), z_dir=(0, 0, -1))):
        with Locations((-38.1, -31.75)):
            Rectangle(SKETCH88_W, SKETCH88_H)
        with Locations((-38.1, -10.922)):
            Rectangle(SKETCH88_W_2, SKETCH88_H_2)
        with Locations((-38.1, -52.578)):
            Rectangle(SKETCH88_W_2, SKETCH88_H_2)
    extrude(amount=-CUT_EXTRUDE55_DEPTH, mode=Mode.SUBTRACT)

    # Sketch89 → Cut-Extrude56 (cut)
    with BuildSketch(Plane(origin=(0, 0, 11.43), x_dir=(-1, 0, 0), z_dir=(0, 0, -1))):
        with BuildLine():
            Line((-53.673681959, -9.144), (-22.526318041, -9.144))
            ThreePointArc((-22.526318041, -9.144), (-21.274369265, -10.729630735), (-20.828, -12.7))
            Line((-20.828, -12.7), (-20.828, -50.8))
            ThreePointArc((-20.828, -50.8), (-21.274369265, -52.770369265), (-22.526318041, -54.356))
            Line((-22.526318041, -54.356), (-53.673681959, -54.356))
            ThreePointArc((-53.673681959, -54.356), (-54.925630735, -52.770369265), (-55.372, -50.8))
            Line((-55.372, -50.8), (-55.372, -12.7))
            ThreePointArc((-55.372, -12.7), (-54.925630735, -10.729630735), (-53.673681959, -9.144))
        make_face()
    extrude(amount=-CUT_EXTRUDE56_DEPTH, mode=Mode.SUBTRACT)

    # Sketch90 → Cut-Extrude57 (cut)
    with BuildSketch(Plane(origin=(0, 0, 0), x_dir=(-1, 0, 0), z_dir=(0, 0, -1))):
        Polygon((-80.854247125, -31.75), (-67.764275503, -9.933380631), (-59.052147378, -15.160657506), (-69.005752875, -31.75), (-58.709839267, -48.909856012), (-67.421967393, -54.137132887), align=None)
        Polygon((-8.48679721, -9.848259441), (4.654247125, -31.75), (-8.700940884, -54.008646683), (-17.224988151, -48.46790171), (-7.194247125, -31.75), (-17.156499501, -15.14624604), align=None)
    extrude(amount=-CUT_EXTRUDE57_DEPTH, mode=Mode.SUBTRACT)

    # Sketch92 → Boss-Extrude30 (add)
    with BuildSketch(Plane.XY.offset(25.4).offset(BOSS_EXTRUDE30_START)):
        with Locations((38.1, -31.75)):
            Rectangle(SKETCH92_W, SKETCH92_H)
        with Locations(Location((22.606, -19.05, 0), (0, 0, 90))):
            Circle(SKETCH92_R, mode=Mode.SUBTRACT)
        with Locations(Location((53.594, -19.05, 0), (0, 0, 90))):
            Circle(SKETCH92_R, mode=Mode.SUBTRACT)
        with Locations(Location((53.594, -44.45, 0), (0, 0, 90))):
            Circle(SKETCH92_R, mode=Mode.SUBTRACT)
        with Locations(Location((22.606, -44.45, 0), (0, 0, 90))):
            Circle(SKETCH92_R, mode=Mode.SUBTRACT)
        Polygon((8.89, -16.129), (-1.651, -31.75), (7.515411765, -47.027352941), (11.811, -44.45), (4.191, -31.75), (11.811, -19.05), align=None, mode=Mode.SUBTRACT)
        Polygon((67.31, -16.129), (77.851, -31.75), (67.31, -47.371), (64.389, -44.45), (72.009, -31.75), (64.389, -19.05), align=None, mode=Mode.SUBTRACT)
        with Locations((38.1, -31.75)):
            Rectangle(SKETCH92_W_2, SKETCH92_H_2, mode=Mode.SUBTRACT)
    extrude(amount=BOSS_EXTRUDE30_DEPTH)

    # Sketch93 → Cut-Extrude58 (cut)
    with BuildSketch(Plane.XY.offset(25.4)):
        with Locations((38.1, -31.75)):
            Rectangle(SKETCH93_W, SKETCH93_H)
    extrude(amount=-CUT_EXTRUDE58_DEPTH, mode=Mode.SUBTRACT)

    # Sketch94 → Cut-Extrude59 (cut)
    with BuildSketch(Plane.XY.offset(22.86)):
        with Locations((38.1, -31.75)):
            Rectangle(SKETCH94_W, SKETCH94_H)
    extrude(amount=-CUT_EXTRUDE59_DEPTH, mode=Mode.SUBTRACT)

    # Sketch95 → Boss-Extrude31 (add)
    with BuildSketch(Plane(origin=(0, 0, 0), x_dir=(-1, 0, 0), z_dir=(0, 0, -1))):
        with Locations((-38.207236184, -31.392546053)):
            Rectangle(SKETCH95_W, SKETCH95_H)
    extrude(amount=-BOSS_EXTRUDE31_DEPTH)

    # Sketch96 → Cut-Extrude60 (cut)
    with BuildSketch(Plane(origin=(0, 0, 0), x_dir=(-1, 0, 0), z_dir=(0, 0, -1))):
        with Locations((-38.242981579, -31.82149079)):
            Rectangle(SKETCH96_W, SKETCH96_H)
    extrude(amount=-CUT_EXTRUDE60_DEPTH, mode=Mode.SUBTRACT)

    # Sketch97 → Cut-Extrude61 (cut)
    with BuildSketch(Plane.ZY.offset(-79.375).offset(CUT_EXTRUDE61_START)):
        with Locations((31.75, -25.4)):
            Circle(SKETCH97_R)
    extrude(amount=CUT_EXTRUDE61_DEPTH, mode=Mode.SUBTRACT)

    # Sketch98 → Boss-Extrude32 (add)
    with BuildSketch(Plane.ZY.offset(6.35)):
        with Locations((26.520732895, -26.722579606)):
            Rectangle(SKETCH98_W, SKETCH98_H)
    extrude(amount=-BOSS_EXTRUDE32_DEPTH)

    # Sketch99 → Cut-Extrude62 (cut)
    with BuildSketch(Plane(origin=(0, 0, 2.54), x_dir=(-1, 0, 0), z_dir=(0, 0, -1))):
        with Locations((-54.022944737, -18.192110526)):
            Circle(SKETCH99_R)
        with Locations((-23.034944737, -18.192110526)):
            Circle(SKETCH99_R)
        with Locations((-23.034944737, -43.592110526)):
            Circle(SKETCH99_R)
        with Locations((-54.022944737, -43.592110526)):
            Circle(SKETCH99_R)
    extrude(amount=-CUT_EXTRUDE62_DEPTH, mode=Mode.SUBTRACT)

    # Sketch100 → Boss-Extrude33 (add)
    with BuildSketch(Plane(origin=(82.55, 0, 0), x_dir=(0, 0, -1), z_dir=(1, 0, 0))):
        with Locations((-27.71949545, -25.397628411)):
            Rectangle(SKETCH100_W, SKETCH100_H)
    extrude(amount=-BOSS_EXTRUDE33_DEPTH)

    # Sketch103 → Cut-Extrude63 (cut)
    with BuildSketch(Plane(origin=(82.55, 0, 0), x_dir=(0, 0, -1), z_dir=(1, 0, 0))):
        with Locations((-31.75, -20.6375)):
            Circle(SKETCH103_R)
    extrude(amount=-CUT_EXTRUDE63_DEPTH, mode=Mode.SUBTRACT)


solid = part.part
